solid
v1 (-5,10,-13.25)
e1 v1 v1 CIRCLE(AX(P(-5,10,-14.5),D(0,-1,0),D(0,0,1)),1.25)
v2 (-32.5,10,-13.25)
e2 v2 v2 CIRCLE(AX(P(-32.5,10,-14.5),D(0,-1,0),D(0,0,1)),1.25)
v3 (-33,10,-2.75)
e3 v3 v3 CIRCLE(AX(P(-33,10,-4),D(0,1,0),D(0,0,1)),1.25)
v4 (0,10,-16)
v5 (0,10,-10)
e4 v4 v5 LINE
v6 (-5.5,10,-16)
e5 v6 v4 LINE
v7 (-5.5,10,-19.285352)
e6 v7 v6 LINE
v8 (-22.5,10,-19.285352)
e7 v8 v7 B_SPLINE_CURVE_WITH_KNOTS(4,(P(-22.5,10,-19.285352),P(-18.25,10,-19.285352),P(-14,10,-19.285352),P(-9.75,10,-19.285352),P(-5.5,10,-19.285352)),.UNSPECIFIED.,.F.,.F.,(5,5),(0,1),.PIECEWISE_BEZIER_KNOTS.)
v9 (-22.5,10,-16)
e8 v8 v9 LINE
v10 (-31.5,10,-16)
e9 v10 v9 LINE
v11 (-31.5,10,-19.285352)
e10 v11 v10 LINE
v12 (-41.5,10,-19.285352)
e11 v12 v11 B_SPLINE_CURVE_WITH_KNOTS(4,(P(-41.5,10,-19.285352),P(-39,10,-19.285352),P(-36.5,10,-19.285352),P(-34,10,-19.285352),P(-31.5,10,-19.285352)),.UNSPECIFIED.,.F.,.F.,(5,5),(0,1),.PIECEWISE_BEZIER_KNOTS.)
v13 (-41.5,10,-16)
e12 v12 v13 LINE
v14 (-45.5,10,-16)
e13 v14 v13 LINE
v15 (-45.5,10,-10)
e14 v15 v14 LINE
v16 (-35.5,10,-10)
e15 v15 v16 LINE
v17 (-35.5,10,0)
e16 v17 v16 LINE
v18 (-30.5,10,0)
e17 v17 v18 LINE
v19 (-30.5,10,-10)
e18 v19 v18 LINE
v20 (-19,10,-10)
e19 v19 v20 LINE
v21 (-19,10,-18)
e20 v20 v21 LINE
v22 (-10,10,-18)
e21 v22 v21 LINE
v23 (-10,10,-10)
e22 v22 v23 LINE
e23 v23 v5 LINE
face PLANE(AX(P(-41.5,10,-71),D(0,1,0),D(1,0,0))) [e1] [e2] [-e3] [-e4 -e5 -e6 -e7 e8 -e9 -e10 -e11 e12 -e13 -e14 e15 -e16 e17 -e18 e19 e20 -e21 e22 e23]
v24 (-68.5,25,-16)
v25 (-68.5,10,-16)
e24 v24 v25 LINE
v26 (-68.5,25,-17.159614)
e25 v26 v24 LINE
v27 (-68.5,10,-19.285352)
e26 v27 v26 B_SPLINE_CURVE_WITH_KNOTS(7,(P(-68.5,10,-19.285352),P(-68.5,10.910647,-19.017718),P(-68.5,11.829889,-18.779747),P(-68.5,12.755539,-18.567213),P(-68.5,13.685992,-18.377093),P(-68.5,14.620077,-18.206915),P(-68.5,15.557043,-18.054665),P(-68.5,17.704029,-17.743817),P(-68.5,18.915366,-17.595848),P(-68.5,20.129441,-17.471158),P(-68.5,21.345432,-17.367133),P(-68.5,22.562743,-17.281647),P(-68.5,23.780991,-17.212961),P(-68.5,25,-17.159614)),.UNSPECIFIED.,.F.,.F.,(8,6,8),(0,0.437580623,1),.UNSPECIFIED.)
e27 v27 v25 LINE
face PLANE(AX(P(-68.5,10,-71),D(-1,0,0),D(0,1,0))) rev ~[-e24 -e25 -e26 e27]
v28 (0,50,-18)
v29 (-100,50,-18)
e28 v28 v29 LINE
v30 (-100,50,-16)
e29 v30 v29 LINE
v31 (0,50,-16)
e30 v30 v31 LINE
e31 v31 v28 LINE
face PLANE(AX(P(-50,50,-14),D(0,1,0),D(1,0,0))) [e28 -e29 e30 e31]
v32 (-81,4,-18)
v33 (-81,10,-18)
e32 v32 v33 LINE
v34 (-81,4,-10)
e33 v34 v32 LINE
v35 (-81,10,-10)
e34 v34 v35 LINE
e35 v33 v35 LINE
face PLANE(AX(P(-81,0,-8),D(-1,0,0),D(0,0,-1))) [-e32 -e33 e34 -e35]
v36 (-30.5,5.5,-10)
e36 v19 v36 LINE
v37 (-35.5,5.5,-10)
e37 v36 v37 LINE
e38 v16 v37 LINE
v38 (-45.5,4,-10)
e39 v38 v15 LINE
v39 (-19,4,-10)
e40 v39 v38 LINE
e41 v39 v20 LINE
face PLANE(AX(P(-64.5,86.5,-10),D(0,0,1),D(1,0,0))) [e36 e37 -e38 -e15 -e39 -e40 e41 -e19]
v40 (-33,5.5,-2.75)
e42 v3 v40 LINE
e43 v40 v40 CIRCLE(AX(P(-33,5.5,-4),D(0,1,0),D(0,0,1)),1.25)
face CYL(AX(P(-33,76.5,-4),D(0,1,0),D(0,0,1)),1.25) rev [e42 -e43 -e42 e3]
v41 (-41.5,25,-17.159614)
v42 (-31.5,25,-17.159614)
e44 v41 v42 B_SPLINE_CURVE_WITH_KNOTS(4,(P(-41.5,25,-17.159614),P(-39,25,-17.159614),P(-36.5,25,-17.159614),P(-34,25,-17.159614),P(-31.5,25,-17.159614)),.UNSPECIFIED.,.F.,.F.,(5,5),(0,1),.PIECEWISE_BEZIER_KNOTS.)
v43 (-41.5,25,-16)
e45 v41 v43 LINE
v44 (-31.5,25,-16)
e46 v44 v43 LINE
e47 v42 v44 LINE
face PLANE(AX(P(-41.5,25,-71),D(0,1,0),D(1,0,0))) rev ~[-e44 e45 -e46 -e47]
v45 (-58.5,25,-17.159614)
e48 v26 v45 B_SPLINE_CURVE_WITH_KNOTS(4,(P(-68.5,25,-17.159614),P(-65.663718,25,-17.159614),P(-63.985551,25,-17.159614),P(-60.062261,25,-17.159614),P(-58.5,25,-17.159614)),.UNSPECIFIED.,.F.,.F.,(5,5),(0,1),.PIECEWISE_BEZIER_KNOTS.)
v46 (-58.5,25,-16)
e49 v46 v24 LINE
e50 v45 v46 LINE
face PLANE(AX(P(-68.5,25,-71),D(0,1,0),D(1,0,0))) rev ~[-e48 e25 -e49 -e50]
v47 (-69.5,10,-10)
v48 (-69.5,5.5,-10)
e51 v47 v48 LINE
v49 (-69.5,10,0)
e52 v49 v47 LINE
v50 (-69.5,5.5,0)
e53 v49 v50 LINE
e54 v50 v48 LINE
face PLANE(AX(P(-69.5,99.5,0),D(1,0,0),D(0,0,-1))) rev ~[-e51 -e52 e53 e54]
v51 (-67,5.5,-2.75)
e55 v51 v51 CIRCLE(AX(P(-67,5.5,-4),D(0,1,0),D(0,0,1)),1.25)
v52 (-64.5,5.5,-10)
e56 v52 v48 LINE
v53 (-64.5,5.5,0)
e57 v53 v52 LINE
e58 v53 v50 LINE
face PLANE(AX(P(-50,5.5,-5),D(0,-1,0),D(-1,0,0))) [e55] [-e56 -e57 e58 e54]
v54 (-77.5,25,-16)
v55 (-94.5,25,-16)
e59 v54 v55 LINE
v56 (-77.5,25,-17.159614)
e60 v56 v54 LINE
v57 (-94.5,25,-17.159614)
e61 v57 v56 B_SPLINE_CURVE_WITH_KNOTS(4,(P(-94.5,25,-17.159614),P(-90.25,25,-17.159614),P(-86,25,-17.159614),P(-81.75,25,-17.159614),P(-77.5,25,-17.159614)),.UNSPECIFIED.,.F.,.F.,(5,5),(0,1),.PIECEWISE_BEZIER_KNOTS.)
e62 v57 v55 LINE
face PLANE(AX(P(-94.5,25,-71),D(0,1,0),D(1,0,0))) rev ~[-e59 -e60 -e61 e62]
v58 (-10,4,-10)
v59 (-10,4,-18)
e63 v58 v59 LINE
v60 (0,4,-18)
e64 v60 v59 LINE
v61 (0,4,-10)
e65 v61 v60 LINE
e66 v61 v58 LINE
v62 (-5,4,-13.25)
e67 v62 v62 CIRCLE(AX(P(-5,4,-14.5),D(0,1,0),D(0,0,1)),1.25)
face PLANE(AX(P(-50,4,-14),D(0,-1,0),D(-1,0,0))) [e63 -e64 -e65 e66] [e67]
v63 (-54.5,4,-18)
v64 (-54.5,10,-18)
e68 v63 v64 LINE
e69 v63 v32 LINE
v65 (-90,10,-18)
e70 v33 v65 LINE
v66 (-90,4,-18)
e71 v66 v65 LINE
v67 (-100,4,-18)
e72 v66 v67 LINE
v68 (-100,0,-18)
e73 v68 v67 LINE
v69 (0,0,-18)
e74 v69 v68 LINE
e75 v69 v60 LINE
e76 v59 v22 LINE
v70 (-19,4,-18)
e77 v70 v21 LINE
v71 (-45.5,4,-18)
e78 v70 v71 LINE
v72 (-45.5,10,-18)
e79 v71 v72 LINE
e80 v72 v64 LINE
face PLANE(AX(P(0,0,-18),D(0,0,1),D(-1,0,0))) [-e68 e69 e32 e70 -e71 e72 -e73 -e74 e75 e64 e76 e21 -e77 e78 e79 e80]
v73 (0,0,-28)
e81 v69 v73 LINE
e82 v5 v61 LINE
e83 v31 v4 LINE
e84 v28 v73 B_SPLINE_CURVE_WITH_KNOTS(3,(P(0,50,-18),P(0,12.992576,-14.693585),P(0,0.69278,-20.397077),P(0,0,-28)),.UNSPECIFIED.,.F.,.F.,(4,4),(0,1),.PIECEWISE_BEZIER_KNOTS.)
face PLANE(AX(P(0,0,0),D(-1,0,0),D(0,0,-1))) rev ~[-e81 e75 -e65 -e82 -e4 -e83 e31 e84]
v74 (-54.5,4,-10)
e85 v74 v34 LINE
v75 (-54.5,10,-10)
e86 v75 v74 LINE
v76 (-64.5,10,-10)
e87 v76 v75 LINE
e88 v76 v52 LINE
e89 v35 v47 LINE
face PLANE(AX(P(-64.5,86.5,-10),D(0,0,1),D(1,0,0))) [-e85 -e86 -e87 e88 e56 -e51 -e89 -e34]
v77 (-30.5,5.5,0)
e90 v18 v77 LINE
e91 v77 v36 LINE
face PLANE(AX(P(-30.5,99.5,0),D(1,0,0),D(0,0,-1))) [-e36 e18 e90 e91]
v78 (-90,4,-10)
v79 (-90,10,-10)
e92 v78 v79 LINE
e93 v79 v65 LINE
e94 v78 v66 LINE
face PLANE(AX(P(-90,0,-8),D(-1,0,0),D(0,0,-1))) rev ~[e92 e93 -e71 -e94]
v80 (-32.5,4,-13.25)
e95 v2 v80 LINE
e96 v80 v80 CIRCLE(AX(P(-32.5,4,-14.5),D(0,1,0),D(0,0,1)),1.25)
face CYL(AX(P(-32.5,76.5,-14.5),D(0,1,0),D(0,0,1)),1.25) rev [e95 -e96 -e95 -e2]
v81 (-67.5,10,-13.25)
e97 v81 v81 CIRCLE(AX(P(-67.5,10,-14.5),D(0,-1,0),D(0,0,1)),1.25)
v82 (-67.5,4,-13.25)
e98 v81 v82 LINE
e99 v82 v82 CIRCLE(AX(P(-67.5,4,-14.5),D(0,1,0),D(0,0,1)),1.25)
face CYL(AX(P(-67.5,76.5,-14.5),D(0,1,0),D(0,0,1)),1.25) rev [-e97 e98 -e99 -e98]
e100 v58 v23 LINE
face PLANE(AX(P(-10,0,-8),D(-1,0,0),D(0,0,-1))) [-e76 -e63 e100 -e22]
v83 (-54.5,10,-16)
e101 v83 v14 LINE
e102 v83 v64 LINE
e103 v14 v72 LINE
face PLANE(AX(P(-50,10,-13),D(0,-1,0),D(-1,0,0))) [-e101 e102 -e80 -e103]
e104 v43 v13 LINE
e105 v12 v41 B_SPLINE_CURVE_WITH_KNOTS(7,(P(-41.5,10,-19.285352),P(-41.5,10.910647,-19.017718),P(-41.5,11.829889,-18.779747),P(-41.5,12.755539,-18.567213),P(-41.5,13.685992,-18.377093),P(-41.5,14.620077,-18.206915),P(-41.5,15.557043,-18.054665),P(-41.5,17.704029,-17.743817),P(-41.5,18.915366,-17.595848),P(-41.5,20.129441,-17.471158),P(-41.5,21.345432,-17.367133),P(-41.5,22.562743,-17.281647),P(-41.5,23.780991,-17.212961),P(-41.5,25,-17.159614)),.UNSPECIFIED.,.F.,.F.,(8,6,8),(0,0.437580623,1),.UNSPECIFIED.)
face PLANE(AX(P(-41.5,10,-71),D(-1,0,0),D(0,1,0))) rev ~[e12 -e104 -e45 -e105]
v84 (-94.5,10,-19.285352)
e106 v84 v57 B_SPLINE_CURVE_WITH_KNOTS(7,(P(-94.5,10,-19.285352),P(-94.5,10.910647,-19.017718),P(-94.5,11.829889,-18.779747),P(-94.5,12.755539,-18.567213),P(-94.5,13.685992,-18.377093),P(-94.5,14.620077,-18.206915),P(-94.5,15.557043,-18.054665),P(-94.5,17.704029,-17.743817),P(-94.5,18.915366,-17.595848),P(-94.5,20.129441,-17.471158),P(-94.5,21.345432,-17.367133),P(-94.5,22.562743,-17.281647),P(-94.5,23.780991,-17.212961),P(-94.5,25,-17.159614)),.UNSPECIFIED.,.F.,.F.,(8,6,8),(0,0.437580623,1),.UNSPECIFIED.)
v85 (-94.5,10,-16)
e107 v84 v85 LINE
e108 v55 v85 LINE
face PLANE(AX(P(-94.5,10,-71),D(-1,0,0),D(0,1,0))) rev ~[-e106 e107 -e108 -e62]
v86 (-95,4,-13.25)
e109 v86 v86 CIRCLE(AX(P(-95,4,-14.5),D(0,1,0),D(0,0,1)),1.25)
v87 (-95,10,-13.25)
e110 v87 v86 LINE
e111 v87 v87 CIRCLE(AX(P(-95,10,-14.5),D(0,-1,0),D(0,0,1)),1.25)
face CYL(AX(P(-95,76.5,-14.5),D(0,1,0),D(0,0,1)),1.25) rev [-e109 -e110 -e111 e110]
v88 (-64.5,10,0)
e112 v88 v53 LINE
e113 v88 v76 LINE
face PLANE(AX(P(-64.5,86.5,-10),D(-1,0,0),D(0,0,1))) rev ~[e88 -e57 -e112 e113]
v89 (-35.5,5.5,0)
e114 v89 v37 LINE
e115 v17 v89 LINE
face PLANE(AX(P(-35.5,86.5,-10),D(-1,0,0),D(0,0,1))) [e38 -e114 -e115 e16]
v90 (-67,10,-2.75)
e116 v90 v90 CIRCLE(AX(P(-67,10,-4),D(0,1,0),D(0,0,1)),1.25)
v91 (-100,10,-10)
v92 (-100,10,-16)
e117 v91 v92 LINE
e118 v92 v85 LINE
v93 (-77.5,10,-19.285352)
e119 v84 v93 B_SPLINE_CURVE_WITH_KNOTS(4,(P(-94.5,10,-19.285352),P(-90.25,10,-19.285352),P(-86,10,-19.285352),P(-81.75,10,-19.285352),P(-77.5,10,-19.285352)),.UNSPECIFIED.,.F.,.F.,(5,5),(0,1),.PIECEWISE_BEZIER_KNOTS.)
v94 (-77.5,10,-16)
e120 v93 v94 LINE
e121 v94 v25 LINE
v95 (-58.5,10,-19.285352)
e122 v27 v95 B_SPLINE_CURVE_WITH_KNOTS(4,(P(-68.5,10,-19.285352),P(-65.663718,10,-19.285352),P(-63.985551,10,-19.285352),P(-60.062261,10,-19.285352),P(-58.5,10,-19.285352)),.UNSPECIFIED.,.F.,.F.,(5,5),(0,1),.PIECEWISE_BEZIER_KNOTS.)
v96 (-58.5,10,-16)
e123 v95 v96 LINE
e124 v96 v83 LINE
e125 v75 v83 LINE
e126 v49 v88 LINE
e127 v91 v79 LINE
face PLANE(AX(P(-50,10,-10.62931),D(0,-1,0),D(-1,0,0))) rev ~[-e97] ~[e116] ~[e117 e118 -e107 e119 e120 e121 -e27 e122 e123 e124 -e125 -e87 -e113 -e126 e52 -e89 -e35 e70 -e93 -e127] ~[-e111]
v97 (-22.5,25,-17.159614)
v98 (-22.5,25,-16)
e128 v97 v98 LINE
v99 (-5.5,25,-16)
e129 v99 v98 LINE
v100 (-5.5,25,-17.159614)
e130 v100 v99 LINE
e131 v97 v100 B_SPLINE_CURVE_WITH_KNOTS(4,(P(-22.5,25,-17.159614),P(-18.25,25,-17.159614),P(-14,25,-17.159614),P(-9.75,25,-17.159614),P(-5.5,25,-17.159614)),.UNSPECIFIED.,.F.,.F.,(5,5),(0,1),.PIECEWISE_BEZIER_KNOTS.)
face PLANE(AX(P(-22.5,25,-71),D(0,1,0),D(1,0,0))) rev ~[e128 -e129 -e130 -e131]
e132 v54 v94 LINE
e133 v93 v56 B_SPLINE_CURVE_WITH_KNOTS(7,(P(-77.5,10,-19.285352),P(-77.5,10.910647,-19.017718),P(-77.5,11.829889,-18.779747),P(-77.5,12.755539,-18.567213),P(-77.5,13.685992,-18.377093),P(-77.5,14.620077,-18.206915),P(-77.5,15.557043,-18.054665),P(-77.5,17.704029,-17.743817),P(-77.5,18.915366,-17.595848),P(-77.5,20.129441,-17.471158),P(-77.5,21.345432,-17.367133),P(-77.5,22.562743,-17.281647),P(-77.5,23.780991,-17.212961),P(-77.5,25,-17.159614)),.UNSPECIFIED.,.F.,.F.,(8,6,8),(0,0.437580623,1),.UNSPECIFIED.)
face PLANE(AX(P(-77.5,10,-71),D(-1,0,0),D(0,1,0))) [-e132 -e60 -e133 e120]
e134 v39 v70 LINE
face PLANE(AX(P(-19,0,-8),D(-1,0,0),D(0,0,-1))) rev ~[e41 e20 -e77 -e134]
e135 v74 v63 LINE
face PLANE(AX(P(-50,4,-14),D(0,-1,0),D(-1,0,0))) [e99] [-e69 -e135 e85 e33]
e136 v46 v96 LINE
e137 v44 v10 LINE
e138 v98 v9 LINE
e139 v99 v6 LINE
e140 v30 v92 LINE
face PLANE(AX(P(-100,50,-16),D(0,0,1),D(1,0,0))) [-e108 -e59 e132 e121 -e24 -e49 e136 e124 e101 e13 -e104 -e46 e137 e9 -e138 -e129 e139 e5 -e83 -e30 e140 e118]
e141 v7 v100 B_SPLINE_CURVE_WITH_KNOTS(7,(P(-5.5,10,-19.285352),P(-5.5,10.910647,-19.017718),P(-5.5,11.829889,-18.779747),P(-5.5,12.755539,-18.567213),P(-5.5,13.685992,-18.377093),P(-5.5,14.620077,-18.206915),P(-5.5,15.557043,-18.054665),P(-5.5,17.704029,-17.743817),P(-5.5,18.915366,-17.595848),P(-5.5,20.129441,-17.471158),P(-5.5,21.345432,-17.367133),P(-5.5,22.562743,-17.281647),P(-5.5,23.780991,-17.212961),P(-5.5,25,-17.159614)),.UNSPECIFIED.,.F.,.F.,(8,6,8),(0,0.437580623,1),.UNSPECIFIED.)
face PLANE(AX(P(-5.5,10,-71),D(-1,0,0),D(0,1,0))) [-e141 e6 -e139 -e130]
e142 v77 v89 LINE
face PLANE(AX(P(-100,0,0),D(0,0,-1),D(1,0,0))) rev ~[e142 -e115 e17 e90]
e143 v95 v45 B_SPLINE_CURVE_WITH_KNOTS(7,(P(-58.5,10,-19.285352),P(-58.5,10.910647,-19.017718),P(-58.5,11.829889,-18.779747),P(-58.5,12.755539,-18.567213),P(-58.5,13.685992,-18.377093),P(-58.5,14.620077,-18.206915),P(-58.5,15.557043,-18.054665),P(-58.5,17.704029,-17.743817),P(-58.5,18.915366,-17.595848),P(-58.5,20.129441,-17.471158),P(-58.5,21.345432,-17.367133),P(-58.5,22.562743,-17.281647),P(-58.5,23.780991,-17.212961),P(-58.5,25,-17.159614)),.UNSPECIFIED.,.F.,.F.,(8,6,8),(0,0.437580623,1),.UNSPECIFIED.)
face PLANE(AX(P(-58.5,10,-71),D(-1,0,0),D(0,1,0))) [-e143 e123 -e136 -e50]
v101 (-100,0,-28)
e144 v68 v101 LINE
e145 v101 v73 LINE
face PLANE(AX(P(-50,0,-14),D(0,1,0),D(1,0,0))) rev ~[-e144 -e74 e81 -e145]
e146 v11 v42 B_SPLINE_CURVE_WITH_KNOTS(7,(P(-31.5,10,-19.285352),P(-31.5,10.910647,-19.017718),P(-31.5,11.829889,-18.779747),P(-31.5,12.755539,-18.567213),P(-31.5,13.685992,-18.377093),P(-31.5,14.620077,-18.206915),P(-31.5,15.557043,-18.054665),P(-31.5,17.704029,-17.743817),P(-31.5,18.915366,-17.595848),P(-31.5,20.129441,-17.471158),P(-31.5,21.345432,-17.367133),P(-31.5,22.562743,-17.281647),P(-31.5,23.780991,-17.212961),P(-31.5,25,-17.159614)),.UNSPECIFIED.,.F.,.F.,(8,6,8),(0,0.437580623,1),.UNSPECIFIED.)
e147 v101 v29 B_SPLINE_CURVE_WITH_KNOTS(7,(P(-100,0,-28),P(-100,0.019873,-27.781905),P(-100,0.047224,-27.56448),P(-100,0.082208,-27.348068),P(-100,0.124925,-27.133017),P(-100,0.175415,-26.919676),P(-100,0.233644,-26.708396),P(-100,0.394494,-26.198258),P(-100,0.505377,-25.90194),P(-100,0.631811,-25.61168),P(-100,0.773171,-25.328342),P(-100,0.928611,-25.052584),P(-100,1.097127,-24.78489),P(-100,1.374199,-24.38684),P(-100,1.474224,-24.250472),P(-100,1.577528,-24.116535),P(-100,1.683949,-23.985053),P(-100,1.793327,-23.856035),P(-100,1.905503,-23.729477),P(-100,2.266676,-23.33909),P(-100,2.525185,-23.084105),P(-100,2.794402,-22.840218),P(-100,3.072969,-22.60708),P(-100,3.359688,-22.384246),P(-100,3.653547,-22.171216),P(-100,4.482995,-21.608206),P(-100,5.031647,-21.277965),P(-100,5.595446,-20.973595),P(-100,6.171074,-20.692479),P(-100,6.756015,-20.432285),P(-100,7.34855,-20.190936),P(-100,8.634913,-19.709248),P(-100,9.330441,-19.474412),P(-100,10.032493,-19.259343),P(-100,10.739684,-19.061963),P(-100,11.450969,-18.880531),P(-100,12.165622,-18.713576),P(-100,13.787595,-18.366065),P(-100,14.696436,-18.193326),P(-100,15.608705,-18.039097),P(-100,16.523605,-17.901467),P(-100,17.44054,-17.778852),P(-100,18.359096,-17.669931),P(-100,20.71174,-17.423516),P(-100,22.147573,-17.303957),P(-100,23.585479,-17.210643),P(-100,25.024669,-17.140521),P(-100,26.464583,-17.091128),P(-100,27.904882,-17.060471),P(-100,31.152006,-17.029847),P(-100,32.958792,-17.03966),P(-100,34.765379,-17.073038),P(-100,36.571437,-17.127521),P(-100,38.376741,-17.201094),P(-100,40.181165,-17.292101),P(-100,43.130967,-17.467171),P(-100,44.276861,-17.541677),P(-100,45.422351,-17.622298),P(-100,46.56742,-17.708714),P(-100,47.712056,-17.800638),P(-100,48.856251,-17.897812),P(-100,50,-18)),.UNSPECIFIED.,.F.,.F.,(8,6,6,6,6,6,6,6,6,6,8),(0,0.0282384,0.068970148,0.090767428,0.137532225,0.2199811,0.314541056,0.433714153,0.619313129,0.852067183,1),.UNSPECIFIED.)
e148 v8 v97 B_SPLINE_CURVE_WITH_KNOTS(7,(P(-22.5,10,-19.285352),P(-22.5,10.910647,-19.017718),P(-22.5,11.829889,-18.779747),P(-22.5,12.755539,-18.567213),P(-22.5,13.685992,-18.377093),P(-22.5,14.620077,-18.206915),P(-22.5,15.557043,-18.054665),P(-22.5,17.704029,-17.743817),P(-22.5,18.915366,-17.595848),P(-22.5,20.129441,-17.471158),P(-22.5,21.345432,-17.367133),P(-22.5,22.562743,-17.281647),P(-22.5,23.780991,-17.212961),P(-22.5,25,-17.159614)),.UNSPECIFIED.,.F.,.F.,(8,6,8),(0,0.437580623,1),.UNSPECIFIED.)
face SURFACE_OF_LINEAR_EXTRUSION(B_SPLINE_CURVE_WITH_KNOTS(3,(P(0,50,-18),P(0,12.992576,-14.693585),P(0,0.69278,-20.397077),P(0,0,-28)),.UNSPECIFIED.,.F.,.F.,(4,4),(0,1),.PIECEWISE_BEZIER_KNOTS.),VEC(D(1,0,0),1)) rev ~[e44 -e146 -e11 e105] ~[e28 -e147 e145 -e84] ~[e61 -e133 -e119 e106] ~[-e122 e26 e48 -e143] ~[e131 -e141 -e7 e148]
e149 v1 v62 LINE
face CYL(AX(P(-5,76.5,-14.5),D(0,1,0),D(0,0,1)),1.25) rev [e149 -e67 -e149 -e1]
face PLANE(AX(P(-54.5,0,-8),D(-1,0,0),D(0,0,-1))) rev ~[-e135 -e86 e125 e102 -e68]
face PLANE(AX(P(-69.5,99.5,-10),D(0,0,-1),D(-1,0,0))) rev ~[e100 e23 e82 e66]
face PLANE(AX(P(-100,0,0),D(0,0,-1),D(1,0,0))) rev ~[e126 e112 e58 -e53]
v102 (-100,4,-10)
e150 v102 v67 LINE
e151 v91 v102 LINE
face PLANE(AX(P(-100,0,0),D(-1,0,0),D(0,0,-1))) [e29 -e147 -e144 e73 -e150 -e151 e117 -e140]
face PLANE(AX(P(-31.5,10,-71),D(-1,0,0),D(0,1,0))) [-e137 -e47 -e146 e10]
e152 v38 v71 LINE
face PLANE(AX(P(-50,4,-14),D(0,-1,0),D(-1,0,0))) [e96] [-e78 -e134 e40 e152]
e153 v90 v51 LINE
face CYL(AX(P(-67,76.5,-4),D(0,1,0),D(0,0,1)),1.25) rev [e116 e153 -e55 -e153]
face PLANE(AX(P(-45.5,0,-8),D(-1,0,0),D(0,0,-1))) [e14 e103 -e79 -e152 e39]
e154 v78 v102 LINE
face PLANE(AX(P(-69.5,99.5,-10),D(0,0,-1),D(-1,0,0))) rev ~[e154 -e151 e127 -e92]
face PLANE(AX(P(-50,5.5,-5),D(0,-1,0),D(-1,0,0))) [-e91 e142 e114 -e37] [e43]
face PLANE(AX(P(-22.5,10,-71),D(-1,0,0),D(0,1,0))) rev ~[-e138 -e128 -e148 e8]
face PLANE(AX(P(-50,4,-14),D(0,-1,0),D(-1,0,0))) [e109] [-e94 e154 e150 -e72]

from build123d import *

# Parameters (mm, degrees)
SZKIC1_W                         = 100
SZKIC1_H                         = 28
OGOLNY_KSZTALT_DEPTH             = 50
ZAKRZYWUIENIE_OUTSIDE_W          = 53.052
ZAKRZYWUIENIE_OUTSIDE_H          = 75.052
WYCIECIE_KSZTAL_PRZOD_DEPTH      = 105
WYCIECIE_KSZTALTU_TYL_DEPTH      = 23
WYCIECIE_KSZTALTU_TYL_DEPTH_BACK = 99.5
SZKIC4_W                         = 30.5
SZKIC4_H                         = 10
SZKIC5_W                         = 39
SZKIC5_H                         = 10
PODBICIE_TYL_SPOD_DEPTH          = 5.5
SZKIC6_W                         = 100
SZKIC6_H                         = 8
PODBICIE_SRODEK_SPOD_DEPTH       = 4
PRZYCIECIE_OD_GORY_DEPTH         = 40
OTWORY_NA_SRUBY_DEPTH            = 90
OTWORY_NA_SRUBY_DEPTH_BACK       = 71
SZKIC8_R                         = 1.25
SZKIC9_W                         = 9
SZKIC9_H                         = 10
KTIR_KABLE_DEPTH                 = 10
WYTNIJ_WYCI_GNI_CIE3_DEPTH       = 84
WYTNIJ_WYCI_GNI_CIE3_DEPTH_BACK  = 81
SZKIC10_W                        = 29
SZKIC10_H                        = 10
WYTNIJ_WYCI_GNI_CIE4_DEPTH       = 59
WYTNIJ_WYCI_GNI_CIE4_DEPTH_BACK  = 55
SZKIC11_W                        = 10
SZKIC11_H                        = 15
SZKIC11_W_2                      = 17


with BuildPart() as part:
    # Szkic1 → ogolny ksztalt (new body)
    with BuildSketch(Plane(origin=(0, 0, 0), x_dir=(1, 0, 0), z_dir=(0, 1, 0))):
        with Locations((-50, 14)):
            Rectangle(SZKIC1_W, SZKIC1_H)
    extrude(amount=OGOLNY_KSZTALT_DEPTH)

    # zakrzywuienie outside → wyciecie ksztal przod (cut)
    with BuildSketch(Plane(origin=(0, 0, 0), x_dir=(0, 0, -1), z_dir=(1, 0, 0))):
        with Locations((14, 25)):
            Rectangle(ZAKRZYWUIENIE_OUTSIDE_W, ZAKRZYWUIENIE_OUTSIDE_H)
        with BuildLine():
            Line((28, 0), (18, 0))
            Line((18, 0), (0, 0))
            Line((0, 0), (0, 50))
            Line((0, 50), (18, 50))
            add(Edge.make_bspline(
                [(18, 50), (14.693585387, 12.992576306), (20.397077092, 0.692779903), (28, 0)],
                knots=[0, 0, 0, 0, 1, 1, 1, 1], degree=3))
        make_face(mode=Mode.SUBTRACT)
    extrude(amount=-WYCIECIE_KSZTAL_PRZOD_DEPTH, mode=Mode.SUBTRACT)

    # Szkic4 → wyciecie ksztaltu tyl (cut, two sides: drawn at the far end of the back side and taken through both)
    with BuildSketch(Plane(origin=(0, 0, 0), x_dir=(-1, 0, 0), z_dir=(0, -1, 0)).offset(-WYCIECIE_KSZTALTU_TYL_DEPTH_BACK)):
        with Locations((84.75, 5)):
            Rectangle(SZKIC4_W, SZKIC4_H)
        with Locations((15.25, 5)):
            Rectangle(SZKIC4_W, SZKIC4_H)
    extrude(amount=WYCIECIE_KSZTALTU_TYL_DEPTH + WYCIECIE_KSZTALTU_TYL_DEPTH_BACK, mode=Mode.SUBTRACT)

    # Szkic5 → podbicie tyl(spod) (cut)
    with BuildSketch(Plane(origin=(0, 0, 0), x_dir=(-1, 0, 0), z_dir=(0, -1, 0))):
        with Locations((50, 5)):
            Rectangle(SZKIC5_W, SZKIC5_H)
    extrude(amount=-PODBICIE_TYL_SPOD_DEPTH, mode=Mode.SUBTRACT)

    # Szkic6 → podbicie srodek(spod) (cut)
    with BuildSketch(Plane(origin=(0, 0, 0), x_dir=(-1, 0, 0), z_dir=(0, -1, 0))):
        with Locations((50, 14)):
            Rectangle(SZKIC6_W, SZKIC6_H)
    extrude(amount=-PODBICIE_SRODEK_SPOD_DEPTH, mode=Mode.SUBTRACT)

    # Szkic7 → przyciecie od gory (cut)
    with BuildSketch(Plane(origin=(0, 50, 0), x_dir=(1, 0, 0), z_dir=(0, 1, 0))):
        Polygon((0, 10), (-30.5, 10), (-30.5, 0), (-69.5, 0), (-69.5, 10), (-100, 10), (-100, 16), (0, 16), align=None)
    extrude(amount=-PRZYCIECIE_OD_GORY_DEPTH, mode=Mode.SUBTRACT)

    # Szkic8 → otwory na sruby (cut, two sides: drawn at the far end of the back side and taken through both)
    with BuildSketch(Plane(origin=(0, 5.5, 0), x_dir=(-1, 0, 0), z_dir=(0, -1, 0)).offset(-OTWORY_NA_SRUBY_DEPTH_BACK)):
        with Locations(Location((67, 4, 0), (0, 0, 270))):
            Circle(SZKIC8_R)
        with Locations(Location((33, 4, 0), (0, 0, 270))):
            Circle(SZKIC8_R)
        with Locations(Location((67.5, 14.5, 0), (0, 0, 270))):
            Circle(SZKIC8_R)
        with Locations(Location((32.5, 14.5, 0), (0, 0, 270))):
            Circle(SZKIC8_R)
        with Locations(Location((95, 14.5, 0), (0, 0, 270))):
            Circle(SZKIC8_R)
        with Locations(Location((5, 14.5, 0), (0, 0, 270))):
            Circle(SZKIC8_R)
    extrude(amount=OTWORY_NA_SRUBY_DEPTH + OTWORY_NA_SRUBY_DEPTH_BACK, mode=Mode.SUBTRACT)

    # Szkic9 → ktir kable (cut)
    with BuildSketch(Plane(origin=(0, 0, 0), x_dir=(-1, 0, 0), z_dir=(0, -1, 0))):
        with Locations((50, 13)):
            Rectangle(SZKIC9_W, SZKIC9_H)
        with Locations((14.5, 13)):
            Rectangle(SZKIC9_W, SZKIC9_H)
        with Locations((85.5, 13)):
            Rectangle(SZKIC9_W, SZKIC9_H)
    extrude(amount=-KTIR_KABLE_DEPTH, mode=Mode.SUBTRACT)

    # Szkic10 → Wytnij-wyciągnięcie3 (cut, two sides: drawn at the far end of the back side and taken through both)
    with BuildSketch(Plane.XZ.offset(-5.5).offset(-WYTNIJ_WYCI_GNI_CIE3_DEPTH_BACK)):
        with Locations((-50, -5)):
            Rectangle(SZKIC10_W, SZKIC10_H)
    extrude(amount=WYTNIJ_WYCI_GNI_CIE3_DEPTH + WYTNIJ_WYCI_GNI_CIE3_DEPTH_BACK, mode=Mode.SUBTRACT)

    # Szkic11 → Wytnij-wyciągnięcie4 (cut, two sides: drawn at the far end of the back side and taken through both)
    with BuildSketch(Plane.XY.offset(-16).offset(-WYTNIJ_WYCI_GNI_CIE4_DEPTH_BACK)):
        with Locations((-63.5, 17.5)):
            Rectangle(SZKIC11_W, SZKIC11_H)
        with Locations((-36.5, 17.5)):
            Rectangle(SZKIC11_W, SZKIC11_H)
        with Locations((-86, 17.5)):
            Rectangle(SZKIC11_W_2, SZKIC11_H)
        with Locations((-14, 17.5)):
            Rectangle(SZKIC11_W_2, SZKIC11_H)
    extrude(amount=WYTNIJ_WYCI_GNI_CIE4_DEPTH + WYTNIJ_WYCI_GNI_CIE4_DEPTH_BACK, mode=Mode.SUBTRACT)


solid = part.part
